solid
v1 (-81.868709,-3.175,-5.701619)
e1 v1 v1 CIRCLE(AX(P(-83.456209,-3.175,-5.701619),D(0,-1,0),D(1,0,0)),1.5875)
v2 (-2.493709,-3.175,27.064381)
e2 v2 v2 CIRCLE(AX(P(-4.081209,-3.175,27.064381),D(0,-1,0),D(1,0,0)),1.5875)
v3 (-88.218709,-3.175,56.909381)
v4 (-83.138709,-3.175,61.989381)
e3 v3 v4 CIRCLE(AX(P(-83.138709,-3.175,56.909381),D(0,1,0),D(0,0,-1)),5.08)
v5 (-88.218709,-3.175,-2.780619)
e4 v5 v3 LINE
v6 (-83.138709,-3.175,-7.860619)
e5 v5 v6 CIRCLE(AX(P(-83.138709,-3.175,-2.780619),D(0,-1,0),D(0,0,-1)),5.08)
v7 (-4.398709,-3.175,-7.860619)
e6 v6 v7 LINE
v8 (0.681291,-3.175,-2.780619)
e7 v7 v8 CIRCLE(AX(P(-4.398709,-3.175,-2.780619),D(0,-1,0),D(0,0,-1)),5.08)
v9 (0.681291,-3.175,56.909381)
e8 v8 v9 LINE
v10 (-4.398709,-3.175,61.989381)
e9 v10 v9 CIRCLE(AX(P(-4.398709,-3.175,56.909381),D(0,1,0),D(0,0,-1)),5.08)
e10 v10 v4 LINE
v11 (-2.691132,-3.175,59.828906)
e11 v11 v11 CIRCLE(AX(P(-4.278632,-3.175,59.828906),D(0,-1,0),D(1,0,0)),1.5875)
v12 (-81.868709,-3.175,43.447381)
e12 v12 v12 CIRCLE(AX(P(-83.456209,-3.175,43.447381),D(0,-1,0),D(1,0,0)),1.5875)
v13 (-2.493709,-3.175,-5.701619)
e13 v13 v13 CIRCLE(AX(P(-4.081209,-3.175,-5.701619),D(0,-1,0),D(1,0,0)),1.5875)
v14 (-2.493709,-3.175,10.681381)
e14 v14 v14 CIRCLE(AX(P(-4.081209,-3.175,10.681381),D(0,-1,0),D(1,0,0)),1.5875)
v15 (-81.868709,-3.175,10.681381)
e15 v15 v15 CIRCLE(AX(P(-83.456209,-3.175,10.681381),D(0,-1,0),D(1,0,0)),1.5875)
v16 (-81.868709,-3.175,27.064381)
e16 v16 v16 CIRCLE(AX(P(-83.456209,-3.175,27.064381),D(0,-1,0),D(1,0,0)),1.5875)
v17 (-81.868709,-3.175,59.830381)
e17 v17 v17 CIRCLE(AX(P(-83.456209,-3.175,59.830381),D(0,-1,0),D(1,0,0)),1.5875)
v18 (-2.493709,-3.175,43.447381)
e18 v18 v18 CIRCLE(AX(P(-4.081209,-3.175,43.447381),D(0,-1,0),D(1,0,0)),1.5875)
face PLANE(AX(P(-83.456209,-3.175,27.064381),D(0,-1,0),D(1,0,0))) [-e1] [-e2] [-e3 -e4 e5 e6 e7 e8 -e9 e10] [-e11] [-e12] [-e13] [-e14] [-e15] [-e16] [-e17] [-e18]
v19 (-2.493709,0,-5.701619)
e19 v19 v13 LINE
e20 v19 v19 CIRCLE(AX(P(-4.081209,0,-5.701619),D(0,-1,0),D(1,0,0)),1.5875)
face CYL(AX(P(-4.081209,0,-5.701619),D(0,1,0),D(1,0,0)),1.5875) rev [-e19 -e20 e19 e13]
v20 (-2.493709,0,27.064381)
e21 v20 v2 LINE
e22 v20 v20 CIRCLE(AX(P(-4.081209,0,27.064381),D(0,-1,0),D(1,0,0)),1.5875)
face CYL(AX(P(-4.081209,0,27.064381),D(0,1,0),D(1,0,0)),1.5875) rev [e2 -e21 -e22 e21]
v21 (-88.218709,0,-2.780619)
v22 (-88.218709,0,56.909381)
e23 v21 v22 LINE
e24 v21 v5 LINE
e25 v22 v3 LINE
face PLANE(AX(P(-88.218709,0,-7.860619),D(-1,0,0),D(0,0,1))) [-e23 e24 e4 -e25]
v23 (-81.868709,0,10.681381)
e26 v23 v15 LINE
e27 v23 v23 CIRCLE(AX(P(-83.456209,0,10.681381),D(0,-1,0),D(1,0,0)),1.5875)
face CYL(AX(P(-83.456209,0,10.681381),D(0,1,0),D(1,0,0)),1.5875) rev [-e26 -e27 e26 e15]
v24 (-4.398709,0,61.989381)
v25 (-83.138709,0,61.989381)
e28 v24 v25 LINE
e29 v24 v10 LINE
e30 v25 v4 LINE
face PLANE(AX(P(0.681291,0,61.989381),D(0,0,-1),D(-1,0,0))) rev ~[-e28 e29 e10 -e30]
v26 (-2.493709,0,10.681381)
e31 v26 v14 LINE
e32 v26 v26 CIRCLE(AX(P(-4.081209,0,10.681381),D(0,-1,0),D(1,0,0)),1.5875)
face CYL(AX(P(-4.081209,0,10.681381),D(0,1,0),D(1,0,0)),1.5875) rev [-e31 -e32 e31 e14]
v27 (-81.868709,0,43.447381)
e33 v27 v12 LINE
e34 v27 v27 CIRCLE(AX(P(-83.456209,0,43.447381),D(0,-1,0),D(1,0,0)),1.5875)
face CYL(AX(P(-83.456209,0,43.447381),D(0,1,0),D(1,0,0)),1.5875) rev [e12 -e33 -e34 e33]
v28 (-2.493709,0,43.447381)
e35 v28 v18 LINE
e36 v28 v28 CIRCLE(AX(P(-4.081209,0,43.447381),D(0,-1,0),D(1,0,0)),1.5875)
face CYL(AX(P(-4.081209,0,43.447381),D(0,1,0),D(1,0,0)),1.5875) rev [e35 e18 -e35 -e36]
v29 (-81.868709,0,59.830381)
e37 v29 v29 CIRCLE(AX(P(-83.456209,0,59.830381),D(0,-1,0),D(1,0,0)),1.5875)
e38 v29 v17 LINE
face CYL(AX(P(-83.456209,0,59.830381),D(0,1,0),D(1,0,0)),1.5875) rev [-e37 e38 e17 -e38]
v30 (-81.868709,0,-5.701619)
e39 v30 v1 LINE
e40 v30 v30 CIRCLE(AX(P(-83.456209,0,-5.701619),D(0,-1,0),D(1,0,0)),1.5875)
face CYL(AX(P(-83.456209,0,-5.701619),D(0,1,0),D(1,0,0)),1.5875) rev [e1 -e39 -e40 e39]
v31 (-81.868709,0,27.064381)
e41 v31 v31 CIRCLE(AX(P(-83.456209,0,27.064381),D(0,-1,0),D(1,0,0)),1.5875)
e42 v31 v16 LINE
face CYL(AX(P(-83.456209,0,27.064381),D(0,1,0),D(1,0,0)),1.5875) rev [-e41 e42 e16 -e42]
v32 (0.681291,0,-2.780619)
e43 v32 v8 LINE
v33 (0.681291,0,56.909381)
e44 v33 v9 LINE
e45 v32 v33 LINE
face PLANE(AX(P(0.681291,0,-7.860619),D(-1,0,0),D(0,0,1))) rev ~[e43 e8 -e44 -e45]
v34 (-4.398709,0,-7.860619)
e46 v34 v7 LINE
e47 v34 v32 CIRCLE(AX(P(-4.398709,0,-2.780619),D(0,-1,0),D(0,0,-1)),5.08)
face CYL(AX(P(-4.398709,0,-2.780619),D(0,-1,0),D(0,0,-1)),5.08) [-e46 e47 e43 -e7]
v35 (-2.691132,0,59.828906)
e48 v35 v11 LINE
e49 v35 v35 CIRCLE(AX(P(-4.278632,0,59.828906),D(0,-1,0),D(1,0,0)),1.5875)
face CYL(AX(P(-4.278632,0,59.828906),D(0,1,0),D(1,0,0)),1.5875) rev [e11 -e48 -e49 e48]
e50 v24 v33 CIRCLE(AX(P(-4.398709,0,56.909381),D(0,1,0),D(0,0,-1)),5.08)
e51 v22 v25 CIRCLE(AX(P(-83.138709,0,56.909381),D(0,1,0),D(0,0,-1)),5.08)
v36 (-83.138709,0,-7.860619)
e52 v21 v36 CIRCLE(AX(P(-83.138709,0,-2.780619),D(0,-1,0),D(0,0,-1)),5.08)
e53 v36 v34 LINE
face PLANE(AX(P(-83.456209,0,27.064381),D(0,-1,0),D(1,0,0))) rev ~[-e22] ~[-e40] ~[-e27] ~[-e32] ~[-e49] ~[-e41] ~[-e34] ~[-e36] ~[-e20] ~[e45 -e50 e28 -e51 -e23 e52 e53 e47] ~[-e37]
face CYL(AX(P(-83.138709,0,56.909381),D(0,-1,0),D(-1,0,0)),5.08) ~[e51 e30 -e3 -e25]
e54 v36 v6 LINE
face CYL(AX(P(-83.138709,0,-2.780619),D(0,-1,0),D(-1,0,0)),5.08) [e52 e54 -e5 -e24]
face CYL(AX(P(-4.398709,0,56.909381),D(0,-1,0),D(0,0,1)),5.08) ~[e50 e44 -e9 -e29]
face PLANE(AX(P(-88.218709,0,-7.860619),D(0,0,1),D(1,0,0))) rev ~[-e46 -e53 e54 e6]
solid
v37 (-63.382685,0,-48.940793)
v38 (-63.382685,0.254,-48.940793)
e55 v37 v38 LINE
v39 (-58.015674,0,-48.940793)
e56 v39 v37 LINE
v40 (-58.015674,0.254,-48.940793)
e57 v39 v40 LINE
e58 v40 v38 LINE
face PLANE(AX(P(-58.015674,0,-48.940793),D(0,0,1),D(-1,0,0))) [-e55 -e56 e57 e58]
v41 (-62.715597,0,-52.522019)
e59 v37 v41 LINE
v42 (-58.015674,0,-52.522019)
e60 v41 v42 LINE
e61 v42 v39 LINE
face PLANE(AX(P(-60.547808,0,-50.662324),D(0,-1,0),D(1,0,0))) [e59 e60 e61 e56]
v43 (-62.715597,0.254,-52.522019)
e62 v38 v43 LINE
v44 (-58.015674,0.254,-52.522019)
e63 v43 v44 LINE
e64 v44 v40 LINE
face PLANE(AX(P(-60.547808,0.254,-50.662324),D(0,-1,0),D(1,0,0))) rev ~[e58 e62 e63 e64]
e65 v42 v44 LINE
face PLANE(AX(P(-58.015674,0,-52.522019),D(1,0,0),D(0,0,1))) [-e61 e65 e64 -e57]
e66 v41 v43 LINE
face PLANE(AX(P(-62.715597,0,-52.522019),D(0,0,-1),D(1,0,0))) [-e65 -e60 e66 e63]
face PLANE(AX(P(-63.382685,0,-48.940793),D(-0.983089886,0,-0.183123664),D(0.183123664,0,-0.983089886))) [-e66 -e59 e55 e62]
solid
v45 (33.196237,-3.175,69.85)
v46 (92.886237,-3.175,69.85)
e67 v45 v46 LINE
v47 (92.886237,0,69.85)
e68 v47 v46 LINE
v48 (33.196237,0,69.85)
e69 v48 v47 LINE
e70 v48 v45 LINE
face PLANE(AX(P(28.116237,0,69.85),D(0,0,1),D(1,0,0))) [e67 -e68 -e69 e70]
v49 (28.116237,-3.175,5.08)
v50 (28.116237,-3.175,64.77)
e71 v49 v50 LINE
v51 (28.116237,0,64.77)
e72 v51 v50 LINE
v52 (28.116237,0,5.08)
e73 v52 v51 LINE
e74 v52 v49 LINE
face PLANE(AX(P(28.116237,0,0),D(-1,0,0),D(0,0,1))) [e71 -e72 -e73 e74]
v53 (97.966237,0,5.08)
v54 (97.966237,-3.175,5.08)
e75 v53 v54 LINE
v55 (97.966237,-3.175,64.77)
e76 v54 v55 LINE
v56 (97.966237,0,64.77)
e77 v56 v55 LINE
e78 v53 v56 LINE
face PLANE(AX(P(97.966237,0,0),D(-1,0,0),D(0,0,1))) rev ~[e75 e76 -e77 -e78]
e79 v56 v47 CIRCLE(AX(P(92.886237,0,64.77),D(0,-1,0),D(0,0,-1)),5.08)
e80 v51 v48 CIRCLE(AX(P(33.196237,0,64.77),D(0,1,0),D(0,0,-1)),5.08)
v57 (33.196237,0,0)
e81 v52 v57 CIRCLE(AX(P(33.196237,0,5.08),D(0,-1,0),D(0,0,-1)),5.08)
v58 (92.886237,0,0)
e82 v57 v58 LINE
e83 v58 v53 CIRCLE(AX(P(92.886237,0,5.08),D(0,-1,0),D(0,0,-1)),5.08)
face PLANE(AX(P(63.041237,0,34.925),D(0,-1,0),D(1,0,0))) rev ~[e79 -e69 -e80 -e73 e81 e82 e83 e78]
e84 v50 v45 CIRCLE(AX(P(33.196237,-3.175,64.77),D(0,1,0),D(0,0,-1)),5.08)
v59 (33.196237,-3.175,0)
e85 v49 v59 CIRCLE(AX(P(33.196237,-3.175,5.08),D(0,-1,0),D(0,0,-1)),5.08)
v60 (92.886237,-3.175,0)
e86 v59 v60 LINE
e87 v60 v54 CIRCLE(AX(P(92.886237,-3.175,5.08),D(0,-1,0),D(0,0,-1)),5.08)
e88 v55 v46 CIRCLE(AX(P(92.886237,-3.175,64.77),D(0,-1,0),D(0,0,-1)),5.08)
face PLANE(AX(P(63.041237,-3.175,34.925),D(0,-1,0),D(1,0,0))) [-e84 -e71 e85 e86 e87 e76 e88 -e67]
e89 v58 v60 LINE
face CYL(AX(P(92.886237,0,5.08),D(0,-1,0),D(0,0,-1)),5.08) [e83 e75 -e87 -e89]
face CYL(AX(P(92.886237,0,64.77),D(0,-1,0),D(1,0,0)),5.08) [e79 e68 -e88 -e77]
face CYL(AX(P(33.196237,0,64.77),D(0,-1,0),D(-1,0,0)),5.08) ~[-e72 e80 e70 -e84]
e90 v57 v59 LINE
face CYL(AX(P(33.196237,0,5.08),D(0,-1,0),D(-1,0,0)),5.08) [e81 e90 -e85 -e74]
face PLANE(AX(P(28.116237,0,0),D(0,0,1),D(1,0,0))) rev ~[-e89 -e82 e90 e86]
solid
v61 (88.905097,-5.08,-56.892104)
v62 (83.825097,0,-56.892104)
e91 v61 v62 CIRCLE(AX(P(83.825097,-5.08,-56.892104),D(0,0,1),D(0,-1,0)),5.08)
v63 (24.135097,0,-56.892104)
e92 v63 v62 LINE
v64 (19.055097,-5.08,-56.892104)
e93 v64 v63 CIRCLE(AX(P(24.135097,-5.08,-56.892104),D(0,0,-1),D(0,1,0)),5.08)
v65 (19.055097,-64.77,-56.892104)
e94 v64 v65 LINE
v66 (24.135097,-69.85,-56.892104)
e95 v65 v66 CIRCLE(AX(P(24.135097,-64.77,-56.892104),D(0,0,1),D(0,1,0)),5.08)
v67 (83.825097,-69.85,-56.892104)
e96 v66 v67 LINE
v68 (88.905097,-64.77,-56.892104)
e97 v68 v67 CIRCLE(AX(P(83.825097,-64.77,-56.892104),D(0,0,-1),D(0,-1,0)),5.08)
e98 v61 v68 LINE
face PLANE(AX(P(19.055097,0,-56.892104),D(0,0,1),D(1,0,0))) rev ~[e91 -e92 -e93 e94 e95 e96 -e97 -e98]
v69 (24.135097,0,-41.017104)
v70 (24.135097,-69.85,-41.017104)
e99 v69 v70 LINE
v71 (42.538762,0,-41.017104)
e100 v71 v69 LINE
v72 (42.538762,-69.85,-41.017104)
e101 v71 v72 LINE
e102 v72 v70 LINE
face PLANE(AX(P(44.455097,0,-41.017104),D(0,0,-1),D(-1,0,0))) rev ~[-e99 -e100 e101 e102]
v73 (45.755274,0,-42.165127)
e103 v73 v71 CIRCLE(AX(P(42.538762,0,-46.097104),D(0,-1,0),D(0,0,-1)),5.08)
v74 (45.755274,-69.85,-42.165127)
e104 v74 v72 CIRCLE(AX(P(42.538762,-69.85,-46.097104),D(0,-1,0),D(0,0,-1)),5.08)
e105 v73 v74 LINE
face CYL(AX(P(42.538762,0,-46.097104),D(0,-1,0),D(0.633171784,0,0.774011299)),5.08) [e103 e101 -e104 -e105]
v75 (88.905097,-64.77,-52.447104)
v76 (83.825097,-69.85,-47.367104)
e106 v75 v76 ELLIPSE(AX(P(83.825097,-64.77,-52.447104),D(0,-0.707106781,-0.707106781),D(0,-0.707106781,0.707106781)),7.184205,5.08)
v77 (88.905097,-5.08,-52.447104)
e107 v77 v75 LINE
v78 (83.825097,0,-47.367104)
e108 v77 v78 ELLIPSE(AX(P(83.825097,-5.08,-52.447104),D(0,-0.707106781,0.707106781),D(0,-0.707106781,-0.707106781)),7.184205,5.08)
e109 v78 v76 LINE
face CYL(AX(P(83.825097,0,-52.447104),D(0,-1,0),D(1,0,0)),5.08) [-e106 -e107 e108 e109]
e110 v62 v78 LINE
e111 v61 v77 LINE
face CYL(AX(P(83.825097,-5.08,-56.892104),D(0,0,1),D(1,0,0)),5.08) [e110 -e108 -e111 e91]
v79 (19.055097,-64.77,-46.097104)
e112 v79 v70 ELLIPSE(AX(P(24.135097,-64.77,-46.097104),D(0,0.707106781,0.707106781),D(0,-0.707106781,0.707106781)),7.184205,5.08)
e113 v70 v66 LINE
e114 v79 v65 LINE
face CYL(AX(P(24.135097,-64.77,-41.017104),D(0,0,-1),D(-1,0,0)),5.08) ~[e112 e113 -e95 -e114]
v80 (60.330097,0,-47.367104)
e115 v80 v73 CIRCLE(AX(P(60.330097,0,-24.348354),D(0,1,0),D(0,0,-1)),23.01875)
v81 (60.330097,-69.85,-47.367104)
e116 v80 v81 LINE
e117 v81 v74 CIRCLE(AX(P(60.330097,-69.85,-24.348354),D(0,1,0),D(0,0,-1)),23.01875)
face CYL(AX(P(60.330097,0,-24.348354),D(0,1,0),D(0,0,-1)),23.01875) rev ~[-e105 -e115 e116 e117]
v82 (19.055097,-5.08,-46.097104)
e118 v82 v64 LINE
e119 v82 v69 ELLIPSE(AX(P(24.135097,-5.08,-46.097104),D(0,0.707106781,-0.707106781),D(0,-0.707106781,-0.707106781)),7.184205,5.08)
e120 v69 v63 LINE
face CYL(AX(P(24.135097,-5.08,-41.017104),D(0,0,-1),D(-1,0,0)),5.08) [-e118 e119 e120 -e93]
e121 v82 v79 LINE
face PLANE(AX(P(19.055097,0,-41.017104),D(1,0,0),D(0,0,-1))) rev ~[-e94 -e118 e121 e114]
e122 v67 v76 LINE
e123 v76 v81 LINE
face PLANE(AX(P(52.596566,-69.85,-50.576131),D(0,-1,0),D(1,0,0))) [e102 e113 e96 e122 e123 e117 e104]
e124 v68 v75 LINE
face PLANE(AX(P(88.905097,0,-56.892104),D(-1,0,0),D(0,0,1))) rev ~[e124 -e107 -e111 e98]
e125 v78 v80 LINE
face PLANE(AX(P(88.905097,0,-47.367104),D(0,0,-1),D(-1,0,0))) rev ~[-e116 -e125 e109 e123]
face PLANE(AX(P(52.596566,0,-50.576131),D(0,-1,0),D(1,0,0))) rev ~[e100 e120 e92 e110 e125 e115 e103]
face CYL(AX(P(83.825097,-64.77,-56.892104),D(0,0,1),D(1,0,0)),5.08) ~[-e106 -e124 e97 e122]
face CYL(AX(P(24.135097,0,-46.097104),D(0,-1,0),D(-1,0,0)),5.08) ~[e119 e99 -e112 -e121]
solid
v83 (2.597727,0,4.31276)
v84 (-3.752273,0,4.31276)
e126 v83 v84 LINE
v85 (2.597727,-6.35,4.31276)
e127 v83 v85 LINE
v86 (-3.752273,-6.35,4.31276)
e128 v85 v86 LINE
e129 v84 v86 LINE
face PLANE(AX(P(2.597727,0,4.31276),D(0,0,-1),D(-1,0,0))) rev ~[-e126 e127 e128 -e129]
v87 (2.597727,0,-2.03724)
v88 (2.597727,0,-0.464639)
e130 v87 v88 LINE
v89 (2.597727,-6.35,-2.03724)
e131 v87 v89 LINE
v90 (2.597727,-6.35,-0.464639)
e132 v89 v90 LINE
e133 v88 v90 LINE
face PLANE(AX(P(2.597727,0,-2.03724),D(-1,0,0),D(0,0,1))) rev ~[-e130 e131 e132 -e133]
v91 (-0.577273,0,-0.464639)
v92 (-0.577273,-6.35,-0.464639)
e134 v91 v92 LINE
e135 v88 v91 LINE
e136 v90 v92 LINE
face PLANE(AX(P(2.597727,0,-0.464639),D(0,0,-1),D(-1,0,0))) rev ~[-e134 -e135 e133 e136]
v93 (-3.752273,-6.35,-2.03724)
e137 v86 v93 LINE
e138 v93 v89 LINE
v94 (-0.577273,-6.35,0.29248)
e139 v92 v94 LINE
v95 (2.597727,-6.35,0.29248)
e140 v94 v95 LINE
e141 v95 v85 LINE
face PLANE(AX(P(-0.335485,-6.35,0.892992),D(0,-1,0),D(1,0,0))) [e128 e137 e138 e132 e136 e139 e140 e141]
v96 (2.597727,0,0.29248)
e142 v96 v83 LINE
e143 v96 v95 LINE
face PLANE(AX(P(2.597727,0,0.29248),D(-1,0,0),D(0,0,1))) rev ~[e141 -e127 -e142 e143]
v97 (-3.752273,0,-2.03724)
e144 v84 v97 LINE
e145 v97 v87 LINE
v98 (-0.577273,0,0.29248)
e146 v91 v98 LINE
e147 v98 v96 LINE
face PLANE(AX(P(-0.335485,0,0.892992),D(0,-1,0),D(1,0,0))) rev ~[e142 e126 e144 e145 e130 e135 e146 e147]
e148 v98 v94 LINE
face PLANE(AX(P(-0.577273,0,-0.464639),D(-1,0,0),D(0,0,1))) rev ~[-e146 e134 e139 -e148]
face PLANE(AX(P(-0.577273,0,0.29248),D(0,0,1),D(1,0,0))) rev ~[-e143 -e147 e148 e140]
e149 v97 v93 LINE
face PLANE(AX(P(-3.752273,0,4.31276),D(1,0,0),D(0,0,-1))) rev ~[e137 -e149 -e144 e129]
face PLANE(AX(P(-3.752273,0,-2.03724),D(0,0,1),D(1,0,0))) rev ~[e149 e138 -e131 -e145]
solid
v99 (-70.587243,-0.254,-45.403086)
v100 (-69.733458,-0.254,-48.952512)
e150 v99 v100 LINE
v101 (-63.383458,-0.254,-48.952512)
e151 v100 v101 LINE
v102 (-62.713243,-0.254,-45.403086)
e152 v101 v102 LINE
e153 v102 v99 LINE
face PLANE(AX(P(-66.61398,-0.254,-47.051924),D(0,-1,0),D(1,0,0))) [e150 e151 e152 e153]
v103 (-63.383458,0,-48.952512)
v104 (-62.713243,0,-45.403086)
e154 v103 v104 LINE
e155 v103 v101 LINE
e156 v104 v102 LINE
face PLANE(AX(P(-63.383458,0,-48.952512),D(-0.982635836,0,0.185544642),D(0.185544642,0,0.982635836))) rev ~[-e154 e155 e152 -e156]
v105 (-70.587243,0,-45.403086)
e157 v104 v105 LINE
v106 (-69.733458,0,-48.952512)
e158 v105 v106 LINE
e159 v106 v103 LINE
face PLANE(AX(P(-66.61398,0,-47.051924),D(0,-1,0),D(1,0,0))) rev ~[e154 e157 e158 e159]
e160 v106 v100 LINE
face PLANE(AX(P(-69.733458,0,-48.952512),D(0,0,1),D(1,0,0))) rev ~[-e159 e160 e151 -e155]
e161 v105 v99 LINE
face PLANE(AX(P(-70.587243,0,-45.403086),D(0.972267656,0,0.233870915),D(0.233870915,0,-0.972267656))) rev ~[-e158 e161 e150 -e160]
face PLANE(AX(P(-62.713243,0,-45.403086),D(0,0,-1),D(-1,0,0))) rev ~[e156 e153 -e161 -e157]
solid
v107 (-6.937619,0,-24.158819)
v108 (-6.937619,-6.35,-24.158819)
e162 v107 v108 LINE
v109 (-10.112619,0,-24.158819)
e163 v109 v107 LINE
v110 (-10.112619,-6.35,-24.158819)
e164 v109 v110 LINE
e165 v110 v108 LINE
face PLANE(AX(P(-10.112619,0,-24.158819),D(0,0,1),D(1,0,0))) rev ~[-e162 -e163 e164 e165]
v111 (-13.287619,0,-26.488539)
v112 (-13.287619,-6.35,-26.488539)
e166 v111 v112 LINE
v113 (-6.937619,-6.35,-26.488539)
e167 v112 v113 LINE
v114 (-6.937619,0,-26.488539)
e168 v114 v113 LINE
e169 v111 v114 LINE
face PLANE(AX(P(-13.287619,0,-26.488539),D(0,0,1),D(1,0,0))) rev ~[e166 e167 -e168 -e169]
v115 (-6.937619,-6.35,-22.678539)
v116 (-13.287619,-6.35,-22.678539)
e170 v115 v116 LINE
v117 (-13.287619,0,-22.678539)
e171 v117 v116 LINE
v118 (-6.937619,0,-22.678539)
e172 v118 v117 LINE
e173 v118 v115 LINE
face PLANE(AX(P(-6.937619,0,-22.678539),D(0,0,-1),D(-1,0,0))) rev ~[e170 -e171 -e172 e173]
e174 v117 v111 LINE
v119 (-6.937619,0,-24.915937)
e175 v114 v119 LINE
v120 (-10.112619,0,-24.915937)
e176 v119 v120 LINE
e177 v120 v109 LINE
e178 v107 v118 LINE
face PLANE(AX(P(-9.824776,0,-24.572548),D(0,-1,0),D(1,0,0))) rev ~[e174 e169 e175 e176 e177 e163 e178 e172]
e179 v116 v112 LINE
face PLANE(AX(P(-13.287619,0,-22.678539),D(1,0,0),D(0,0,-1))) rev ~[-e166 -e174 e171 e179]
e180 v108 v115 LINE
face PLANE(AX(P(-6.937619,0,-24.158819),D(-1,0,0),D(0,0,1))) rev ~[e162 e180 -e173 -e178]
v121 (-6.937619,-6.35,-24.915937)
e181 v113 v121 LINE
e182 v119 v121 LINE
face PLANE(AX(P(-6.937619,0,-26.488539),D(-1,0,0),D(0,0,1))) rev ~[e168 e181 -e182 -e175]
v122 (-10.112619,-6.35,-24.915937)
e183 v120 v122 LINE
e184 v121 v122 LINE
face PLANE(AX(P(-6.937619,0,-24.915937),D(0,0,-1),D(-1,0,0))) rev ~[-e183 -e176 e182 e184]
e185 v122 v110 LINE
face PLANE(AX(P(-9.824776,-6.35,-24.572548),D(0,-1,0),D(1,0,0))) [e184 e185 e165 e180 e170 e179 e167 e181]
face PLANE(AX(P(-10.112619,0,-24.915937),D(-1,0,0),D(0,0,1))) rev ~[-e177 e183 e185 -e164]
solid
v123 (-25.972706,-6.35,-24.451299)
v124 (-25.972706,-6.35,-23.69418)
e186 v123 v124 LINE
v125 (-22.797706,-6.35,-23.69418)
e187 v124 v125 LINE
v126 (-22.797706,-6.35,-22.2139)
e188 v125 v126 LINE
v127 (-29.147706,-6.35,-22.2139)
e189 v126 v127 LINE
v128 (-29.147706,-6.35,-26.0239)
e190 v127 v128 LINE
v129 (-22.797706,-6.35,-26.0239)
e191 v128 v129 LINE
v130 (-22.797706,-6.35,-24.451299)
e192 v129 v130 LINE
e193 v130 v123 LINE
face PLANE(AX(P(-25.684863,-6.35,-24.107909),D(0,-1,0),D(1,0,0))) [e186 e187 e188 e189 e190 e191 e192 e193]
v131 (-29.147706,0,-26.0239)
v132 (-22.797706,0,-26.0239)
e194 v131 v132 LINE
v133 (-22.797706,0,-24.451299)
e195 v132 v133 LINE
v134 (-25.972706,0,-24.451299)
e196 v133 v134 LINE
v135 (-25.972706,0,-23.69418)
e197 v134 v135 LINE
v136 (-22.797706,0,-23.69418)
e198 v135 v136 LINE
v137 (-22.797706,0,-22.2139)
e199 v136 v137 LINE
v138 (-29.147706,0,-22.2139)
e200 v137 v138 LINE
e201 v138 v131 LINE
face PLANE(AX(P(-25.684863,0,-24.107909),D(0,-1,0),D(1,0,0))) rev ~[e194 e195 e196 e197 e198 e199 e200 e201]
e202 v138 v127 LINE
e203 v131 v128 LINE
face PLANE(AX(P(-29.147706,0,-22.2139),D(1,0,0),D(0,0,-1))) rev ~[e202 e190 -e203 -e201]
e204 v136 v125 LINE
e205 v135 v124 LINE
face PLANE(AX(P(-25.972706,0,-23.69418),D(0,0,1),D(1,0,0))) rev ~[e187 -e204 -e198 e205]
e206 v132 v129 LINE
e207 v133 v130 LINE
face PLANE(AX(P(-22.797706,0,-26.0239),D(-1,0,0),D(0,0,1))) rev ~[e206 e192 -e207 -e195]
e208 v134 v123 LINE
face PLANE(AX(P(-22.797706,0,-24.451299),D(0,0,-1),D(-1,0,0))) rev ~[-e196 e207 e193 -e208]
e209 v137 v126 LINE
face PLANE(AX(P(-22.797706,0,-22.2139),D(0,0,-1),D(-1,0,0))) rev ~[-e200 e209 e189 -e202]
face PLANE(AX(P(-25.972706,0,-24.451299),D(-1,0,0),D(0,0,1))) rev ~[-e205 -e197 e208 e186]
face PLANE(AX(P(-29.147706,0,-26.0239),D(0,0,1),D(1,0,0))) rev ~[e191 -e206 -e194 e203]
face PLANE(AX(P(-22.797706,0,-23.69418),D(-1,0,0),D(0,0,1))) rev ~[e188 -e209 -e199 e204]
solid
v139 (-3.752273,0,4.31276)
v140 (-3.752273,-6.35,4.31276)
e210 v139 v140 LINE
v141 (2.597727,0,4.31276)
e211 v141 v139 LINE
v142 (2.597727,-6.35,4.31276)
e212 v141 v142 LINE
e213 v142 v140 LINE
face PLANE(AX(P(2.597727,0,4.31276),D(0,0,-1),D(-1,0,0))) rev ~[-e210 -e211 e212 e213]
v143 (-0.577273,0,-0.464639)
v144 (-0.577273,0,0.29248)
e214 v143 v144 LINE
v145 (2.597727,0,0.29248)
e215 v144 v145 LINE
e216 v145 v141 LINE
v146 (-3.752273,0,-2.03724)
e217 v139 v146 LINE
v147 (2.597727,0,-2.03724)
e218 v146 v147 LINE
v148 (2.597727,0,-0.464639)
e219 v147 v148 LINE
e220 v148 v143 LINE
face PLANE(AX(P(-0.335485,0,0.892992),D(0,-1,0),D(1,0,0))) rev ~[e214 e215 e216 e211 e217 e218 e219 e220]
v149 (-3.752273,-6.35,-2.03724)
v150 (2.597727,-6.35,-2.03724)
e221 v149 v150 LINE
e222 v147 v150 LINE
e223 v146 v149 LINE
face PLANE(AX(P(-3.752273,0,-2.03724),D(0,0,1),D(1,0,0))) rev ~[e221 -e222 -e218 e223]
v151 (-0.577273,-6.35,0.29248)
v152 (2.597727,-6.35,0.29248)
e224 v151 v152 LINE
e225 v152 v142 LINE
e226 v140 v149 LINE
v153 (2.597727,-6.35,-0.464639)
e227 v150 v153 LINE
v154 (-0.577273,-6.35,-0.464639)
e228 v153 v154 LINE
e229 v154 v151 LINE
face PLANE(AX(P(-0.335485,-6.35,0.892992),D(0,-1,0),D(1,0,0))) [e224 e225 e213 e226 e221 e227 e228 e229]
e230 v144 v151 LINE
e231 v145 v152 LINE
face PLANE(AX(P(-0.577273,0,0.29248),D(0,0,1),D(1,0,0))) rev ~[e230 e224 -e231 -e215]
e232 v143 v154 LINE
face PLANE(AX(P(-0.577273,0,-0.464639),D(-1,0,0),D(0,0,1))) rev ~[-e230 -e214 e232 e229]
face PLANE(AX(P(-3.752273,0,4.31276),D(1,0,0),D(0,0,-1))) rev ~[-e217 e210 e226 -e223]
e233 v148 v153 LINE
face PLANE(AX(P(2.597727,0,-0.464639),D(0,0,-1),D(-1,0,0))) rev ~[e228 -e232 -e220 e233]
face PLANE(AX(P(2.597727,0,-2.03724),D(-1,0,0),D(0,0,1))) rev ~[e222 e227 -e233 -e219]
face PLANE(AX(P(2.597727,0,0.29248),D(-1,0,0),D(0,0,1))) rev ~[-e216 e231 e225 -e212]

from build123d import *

# Parameters (mm, degrees)
F0_W      = 9.525
F0_H      = 69.85
F0_R      = 1.5875
F0_W_2    = 69.85
F1_DEPTH  = 3.175
F2_R      = 5.08
F3_W      = 69.85
F3_H      = 69.85
F4_DEPTH  = 3.175
F5_R      = 5.08
F7_DEPTH  = 69.85
F8_R      = 5.08
F10_DEPTH = 0.254
F12_DEPTH = 0.254
F14_DEPTH = 6.35
F16_DEPTH = 6.35


with BuildPart() as f1:
    # F0 (on Front) → F1 (new body)
    with BuildSketch(Plane.XZ):
        with Locations((-83.4562088089, 27.0643814001)):
            Rectangle(F0_W, F0_H)
        with Locations((-83.4562088089, -5.7016185999)):
            Circle(F0_R, mode=Mode.SUBTRACT)
        with Locations((-83.4562088089, 10.6813814001)):
            Circle(F0_R, mode=Mode.SUBTRACT)
        with Locations((-83.4562088089, 27.0643814001)):
            Circle(F0_R, mode=Mode.SUBTRACT)
        with Locations((-83.4562088089, 43.4473814001)):
            Circle(F0_R, mode=Mode.SUBTRACT)
        with Locations((-83.4562088089, 59.8303814001)):
            Circle(F0_R, mode=Mode.SUBTRACT)
        with Locations((-43.7687088089, 27.0643814001)):
            Rectangle(F0_W_2, F0_H)
        with Locations((-4.0812088089, 27.0643814001)):
            Rectangle(F0_W, F0_H)
        with Locations((-4.0812088089, -5.7016185999)):
            Circle(F0_R, mode=Mode.SUBTRACT)
        with Locations((-4.0812088089, 10.6813814001)):
            Circle(F0_R, mode=Mode.SUBTRACT)
        with Locations((-4.0812088089, 27.0643814001)):
            Circle(F0_R, mode=Mode.SUBTRACT)
        with Locations((-4.0812088089, 43.4473814001)):
            Circle(F0_R, mode=Mode.SUBTRACT)
        with Locations((-4.2786324712, 59.8289058444)):
            Circle(F0_R, mode=Mode.SUBTRACT)
    extrude(amount=F1_DEPTH)

    # F2
    f2_edges = [f1.edges().sort_by_distance(p)[0] for p in [
        (-88.218709, -1.5875, -7.860619),
        (0.681291, -1.5875, -7.860619),
        (0.681291, -1.5875, 61.989381),
        (-88.218709, -1.5875, 61.989381),
    ]]
    fillet(f2_edges, radius=F2_R)


with BuildPart() as f4:
    # F3 (on Front) → F4 (new body)
    with BuildSketch(Plane.XZ):
        with Locations((63.0412368688, 34.925)):
            Rectangle(F3_W, F3_H)
    extrude(amount=F4_DEPTH)

    # F5
    f5_edges = [f4.edges().sort_by_distance(p)[0] for p in [
        (28.116237, -1.5875, 69.85),
        (28.116237, -1.5875, 0),
        (97.966237, -1.5875, 0),
        (97.966237, -1.5875, 69.85),
    ]]
    fillet(f5_edges, radius=F5_R)


with BuildPart() as f7:
    # F6 (on Front) → F7 (new body)
    with BuildSketch(Plane.XZ):
        with BuildLine():
            Line((19.0550971746, -41.0171044469), (19.0550971746, -56.8921044469))
            Line((19.0550971746, -56.8921044469), (88.9050971746, -56.8921044469))
            Line((88.9050971746, -56.8921044469), (88.9050971746, -47.3671044469))
            Line((88.9050971746, -47.3671044469), (60.3300971746, -47.3671044469))
            ThreePointArc((60.3300971746, -47.3671044469), (51.7811480433, -45.7207272752), (44.4550971746, -41.0171044469))
            Line((44.4550971746, -41.0171044469), (19.0550971746, -41.0171044469))
        make_face()
    extrude(amount=F7_DEPTH)

    # F8
    f8_edges = [f7.edges().sort_by_distance(p)[0] for p in [
        (19.055097, -34.925, -41.017104),
        (44.455097, -34.925, -41.017104),
        (88.905097, -34.925, -47.367104),
        (88.905097, 0, -52.129604),
        (19.055097, 0, -48.954604),
        (19.055097, -69.85, -48.954604),
        (88.905097, -69.85, -52.129604),
    ]]
    fillet(f8_edges, radius=F8_R)


with BuildPart() as f10:
    # F9 (on Front) → F10 (new body)
    with BuildSketch(Plane.XZ):
        Polygon((-70.5872430673, -45.403085649), (-69.733457911, -48.9525124431), (-63.383457911, -48.9525124431), (-62.7132430673, -45.403085649), align=None)
    extrude(amount=F10_DEPTH)


with BuildPart() as f12:
    # F11 (on Front) → F12 (new body)
    with BuildSketch(Plane.XZ):
        Polygon((-58.0156743526, -48.9407926798), (-63.3826851845, -48.9407926798), (-62.7155974507, -52.5220185518), (-58.0156743526, -52.5220185518), align=None)
    extrude(amount=-F12_DEPTH)


with BuildPart() as f14:
    # F13 (on Front) → F14 (new body)
    with BuildSketch(Plane.XZ):
        Polygon((-22.7977062657, -22.2139001109), (-29.1477062657, -22.2139001109), (-29.1477062657, -26.0239001109), (-22.7977062657, -26.0239001109), (-22.7977062657, -24.4512986392), (-25.9727062657, -24.4512986392), (-25.9727062657, -23.6941799521), (-22.7977062657, -23.6941799521), align=None)
    extrude(amount=F14_DEPTH)


with BuildPart() as f14b:
    # F13 (on Front) → F14, piece 2 (new body)
    with BuildSketch(Plane.XZ):
        Polygon((2.5977272727, 4.3127597036), (-3.7522727273, 4.3127597036), (-3.7522727273, -2.0372402964), (2.5977272727, -2.0372402964), (2.5977272727, -0.4646388247), (-0.5772727273, -0.4646388247), (-0.5772727273, 0.2924798623), (2.5977272727, 0.2924798623), align=None)
    extrude(amount=F14_DEPTH)


with BuildPart() as f16:
    # F15 (on Front) → F16 (new body)
    with BuildSketch(Plane.XZ):
        Polygon((2.5977272727, 4.3127597036), (-3.7522727273, 4.3127597036), (-3.7522727273, -2.0372402964), (2.5977272727, -2.0372402964), (2.5977272727, -0.4646388247), (-0.5772727273, -0.4646388247), (-0.5772727273, 0.2924798623), (2.5977272727, 0.2924798623), align=None)
    extrude(amount=F16_DEPTH)


with BuildPart() as f16b:
    # F15 (on Front) → F16, piece 2 (new body)
    with BuildSketch(Plane.XZ):
        Polygon((-6.9376189075, -22.6785389356), (-13.2876189075, -22.6785389356), (-13.2876189075, -26.4885389356), (-6.9376189075, -26.4885389356), (-6.9376189075, -24.9159374639), (-10.1126189075, -24.9159374639), (-10.1126189075, -24.1588187769), (-6.9376189075, -24.1588187769), align=None)
    extrude(amount=F16_DEPTH)


solid = Compound([f1.part, f4.part, f7.part, f10.part, f12.part, f14.part, f14b.part, f16.part, f16b.part])
